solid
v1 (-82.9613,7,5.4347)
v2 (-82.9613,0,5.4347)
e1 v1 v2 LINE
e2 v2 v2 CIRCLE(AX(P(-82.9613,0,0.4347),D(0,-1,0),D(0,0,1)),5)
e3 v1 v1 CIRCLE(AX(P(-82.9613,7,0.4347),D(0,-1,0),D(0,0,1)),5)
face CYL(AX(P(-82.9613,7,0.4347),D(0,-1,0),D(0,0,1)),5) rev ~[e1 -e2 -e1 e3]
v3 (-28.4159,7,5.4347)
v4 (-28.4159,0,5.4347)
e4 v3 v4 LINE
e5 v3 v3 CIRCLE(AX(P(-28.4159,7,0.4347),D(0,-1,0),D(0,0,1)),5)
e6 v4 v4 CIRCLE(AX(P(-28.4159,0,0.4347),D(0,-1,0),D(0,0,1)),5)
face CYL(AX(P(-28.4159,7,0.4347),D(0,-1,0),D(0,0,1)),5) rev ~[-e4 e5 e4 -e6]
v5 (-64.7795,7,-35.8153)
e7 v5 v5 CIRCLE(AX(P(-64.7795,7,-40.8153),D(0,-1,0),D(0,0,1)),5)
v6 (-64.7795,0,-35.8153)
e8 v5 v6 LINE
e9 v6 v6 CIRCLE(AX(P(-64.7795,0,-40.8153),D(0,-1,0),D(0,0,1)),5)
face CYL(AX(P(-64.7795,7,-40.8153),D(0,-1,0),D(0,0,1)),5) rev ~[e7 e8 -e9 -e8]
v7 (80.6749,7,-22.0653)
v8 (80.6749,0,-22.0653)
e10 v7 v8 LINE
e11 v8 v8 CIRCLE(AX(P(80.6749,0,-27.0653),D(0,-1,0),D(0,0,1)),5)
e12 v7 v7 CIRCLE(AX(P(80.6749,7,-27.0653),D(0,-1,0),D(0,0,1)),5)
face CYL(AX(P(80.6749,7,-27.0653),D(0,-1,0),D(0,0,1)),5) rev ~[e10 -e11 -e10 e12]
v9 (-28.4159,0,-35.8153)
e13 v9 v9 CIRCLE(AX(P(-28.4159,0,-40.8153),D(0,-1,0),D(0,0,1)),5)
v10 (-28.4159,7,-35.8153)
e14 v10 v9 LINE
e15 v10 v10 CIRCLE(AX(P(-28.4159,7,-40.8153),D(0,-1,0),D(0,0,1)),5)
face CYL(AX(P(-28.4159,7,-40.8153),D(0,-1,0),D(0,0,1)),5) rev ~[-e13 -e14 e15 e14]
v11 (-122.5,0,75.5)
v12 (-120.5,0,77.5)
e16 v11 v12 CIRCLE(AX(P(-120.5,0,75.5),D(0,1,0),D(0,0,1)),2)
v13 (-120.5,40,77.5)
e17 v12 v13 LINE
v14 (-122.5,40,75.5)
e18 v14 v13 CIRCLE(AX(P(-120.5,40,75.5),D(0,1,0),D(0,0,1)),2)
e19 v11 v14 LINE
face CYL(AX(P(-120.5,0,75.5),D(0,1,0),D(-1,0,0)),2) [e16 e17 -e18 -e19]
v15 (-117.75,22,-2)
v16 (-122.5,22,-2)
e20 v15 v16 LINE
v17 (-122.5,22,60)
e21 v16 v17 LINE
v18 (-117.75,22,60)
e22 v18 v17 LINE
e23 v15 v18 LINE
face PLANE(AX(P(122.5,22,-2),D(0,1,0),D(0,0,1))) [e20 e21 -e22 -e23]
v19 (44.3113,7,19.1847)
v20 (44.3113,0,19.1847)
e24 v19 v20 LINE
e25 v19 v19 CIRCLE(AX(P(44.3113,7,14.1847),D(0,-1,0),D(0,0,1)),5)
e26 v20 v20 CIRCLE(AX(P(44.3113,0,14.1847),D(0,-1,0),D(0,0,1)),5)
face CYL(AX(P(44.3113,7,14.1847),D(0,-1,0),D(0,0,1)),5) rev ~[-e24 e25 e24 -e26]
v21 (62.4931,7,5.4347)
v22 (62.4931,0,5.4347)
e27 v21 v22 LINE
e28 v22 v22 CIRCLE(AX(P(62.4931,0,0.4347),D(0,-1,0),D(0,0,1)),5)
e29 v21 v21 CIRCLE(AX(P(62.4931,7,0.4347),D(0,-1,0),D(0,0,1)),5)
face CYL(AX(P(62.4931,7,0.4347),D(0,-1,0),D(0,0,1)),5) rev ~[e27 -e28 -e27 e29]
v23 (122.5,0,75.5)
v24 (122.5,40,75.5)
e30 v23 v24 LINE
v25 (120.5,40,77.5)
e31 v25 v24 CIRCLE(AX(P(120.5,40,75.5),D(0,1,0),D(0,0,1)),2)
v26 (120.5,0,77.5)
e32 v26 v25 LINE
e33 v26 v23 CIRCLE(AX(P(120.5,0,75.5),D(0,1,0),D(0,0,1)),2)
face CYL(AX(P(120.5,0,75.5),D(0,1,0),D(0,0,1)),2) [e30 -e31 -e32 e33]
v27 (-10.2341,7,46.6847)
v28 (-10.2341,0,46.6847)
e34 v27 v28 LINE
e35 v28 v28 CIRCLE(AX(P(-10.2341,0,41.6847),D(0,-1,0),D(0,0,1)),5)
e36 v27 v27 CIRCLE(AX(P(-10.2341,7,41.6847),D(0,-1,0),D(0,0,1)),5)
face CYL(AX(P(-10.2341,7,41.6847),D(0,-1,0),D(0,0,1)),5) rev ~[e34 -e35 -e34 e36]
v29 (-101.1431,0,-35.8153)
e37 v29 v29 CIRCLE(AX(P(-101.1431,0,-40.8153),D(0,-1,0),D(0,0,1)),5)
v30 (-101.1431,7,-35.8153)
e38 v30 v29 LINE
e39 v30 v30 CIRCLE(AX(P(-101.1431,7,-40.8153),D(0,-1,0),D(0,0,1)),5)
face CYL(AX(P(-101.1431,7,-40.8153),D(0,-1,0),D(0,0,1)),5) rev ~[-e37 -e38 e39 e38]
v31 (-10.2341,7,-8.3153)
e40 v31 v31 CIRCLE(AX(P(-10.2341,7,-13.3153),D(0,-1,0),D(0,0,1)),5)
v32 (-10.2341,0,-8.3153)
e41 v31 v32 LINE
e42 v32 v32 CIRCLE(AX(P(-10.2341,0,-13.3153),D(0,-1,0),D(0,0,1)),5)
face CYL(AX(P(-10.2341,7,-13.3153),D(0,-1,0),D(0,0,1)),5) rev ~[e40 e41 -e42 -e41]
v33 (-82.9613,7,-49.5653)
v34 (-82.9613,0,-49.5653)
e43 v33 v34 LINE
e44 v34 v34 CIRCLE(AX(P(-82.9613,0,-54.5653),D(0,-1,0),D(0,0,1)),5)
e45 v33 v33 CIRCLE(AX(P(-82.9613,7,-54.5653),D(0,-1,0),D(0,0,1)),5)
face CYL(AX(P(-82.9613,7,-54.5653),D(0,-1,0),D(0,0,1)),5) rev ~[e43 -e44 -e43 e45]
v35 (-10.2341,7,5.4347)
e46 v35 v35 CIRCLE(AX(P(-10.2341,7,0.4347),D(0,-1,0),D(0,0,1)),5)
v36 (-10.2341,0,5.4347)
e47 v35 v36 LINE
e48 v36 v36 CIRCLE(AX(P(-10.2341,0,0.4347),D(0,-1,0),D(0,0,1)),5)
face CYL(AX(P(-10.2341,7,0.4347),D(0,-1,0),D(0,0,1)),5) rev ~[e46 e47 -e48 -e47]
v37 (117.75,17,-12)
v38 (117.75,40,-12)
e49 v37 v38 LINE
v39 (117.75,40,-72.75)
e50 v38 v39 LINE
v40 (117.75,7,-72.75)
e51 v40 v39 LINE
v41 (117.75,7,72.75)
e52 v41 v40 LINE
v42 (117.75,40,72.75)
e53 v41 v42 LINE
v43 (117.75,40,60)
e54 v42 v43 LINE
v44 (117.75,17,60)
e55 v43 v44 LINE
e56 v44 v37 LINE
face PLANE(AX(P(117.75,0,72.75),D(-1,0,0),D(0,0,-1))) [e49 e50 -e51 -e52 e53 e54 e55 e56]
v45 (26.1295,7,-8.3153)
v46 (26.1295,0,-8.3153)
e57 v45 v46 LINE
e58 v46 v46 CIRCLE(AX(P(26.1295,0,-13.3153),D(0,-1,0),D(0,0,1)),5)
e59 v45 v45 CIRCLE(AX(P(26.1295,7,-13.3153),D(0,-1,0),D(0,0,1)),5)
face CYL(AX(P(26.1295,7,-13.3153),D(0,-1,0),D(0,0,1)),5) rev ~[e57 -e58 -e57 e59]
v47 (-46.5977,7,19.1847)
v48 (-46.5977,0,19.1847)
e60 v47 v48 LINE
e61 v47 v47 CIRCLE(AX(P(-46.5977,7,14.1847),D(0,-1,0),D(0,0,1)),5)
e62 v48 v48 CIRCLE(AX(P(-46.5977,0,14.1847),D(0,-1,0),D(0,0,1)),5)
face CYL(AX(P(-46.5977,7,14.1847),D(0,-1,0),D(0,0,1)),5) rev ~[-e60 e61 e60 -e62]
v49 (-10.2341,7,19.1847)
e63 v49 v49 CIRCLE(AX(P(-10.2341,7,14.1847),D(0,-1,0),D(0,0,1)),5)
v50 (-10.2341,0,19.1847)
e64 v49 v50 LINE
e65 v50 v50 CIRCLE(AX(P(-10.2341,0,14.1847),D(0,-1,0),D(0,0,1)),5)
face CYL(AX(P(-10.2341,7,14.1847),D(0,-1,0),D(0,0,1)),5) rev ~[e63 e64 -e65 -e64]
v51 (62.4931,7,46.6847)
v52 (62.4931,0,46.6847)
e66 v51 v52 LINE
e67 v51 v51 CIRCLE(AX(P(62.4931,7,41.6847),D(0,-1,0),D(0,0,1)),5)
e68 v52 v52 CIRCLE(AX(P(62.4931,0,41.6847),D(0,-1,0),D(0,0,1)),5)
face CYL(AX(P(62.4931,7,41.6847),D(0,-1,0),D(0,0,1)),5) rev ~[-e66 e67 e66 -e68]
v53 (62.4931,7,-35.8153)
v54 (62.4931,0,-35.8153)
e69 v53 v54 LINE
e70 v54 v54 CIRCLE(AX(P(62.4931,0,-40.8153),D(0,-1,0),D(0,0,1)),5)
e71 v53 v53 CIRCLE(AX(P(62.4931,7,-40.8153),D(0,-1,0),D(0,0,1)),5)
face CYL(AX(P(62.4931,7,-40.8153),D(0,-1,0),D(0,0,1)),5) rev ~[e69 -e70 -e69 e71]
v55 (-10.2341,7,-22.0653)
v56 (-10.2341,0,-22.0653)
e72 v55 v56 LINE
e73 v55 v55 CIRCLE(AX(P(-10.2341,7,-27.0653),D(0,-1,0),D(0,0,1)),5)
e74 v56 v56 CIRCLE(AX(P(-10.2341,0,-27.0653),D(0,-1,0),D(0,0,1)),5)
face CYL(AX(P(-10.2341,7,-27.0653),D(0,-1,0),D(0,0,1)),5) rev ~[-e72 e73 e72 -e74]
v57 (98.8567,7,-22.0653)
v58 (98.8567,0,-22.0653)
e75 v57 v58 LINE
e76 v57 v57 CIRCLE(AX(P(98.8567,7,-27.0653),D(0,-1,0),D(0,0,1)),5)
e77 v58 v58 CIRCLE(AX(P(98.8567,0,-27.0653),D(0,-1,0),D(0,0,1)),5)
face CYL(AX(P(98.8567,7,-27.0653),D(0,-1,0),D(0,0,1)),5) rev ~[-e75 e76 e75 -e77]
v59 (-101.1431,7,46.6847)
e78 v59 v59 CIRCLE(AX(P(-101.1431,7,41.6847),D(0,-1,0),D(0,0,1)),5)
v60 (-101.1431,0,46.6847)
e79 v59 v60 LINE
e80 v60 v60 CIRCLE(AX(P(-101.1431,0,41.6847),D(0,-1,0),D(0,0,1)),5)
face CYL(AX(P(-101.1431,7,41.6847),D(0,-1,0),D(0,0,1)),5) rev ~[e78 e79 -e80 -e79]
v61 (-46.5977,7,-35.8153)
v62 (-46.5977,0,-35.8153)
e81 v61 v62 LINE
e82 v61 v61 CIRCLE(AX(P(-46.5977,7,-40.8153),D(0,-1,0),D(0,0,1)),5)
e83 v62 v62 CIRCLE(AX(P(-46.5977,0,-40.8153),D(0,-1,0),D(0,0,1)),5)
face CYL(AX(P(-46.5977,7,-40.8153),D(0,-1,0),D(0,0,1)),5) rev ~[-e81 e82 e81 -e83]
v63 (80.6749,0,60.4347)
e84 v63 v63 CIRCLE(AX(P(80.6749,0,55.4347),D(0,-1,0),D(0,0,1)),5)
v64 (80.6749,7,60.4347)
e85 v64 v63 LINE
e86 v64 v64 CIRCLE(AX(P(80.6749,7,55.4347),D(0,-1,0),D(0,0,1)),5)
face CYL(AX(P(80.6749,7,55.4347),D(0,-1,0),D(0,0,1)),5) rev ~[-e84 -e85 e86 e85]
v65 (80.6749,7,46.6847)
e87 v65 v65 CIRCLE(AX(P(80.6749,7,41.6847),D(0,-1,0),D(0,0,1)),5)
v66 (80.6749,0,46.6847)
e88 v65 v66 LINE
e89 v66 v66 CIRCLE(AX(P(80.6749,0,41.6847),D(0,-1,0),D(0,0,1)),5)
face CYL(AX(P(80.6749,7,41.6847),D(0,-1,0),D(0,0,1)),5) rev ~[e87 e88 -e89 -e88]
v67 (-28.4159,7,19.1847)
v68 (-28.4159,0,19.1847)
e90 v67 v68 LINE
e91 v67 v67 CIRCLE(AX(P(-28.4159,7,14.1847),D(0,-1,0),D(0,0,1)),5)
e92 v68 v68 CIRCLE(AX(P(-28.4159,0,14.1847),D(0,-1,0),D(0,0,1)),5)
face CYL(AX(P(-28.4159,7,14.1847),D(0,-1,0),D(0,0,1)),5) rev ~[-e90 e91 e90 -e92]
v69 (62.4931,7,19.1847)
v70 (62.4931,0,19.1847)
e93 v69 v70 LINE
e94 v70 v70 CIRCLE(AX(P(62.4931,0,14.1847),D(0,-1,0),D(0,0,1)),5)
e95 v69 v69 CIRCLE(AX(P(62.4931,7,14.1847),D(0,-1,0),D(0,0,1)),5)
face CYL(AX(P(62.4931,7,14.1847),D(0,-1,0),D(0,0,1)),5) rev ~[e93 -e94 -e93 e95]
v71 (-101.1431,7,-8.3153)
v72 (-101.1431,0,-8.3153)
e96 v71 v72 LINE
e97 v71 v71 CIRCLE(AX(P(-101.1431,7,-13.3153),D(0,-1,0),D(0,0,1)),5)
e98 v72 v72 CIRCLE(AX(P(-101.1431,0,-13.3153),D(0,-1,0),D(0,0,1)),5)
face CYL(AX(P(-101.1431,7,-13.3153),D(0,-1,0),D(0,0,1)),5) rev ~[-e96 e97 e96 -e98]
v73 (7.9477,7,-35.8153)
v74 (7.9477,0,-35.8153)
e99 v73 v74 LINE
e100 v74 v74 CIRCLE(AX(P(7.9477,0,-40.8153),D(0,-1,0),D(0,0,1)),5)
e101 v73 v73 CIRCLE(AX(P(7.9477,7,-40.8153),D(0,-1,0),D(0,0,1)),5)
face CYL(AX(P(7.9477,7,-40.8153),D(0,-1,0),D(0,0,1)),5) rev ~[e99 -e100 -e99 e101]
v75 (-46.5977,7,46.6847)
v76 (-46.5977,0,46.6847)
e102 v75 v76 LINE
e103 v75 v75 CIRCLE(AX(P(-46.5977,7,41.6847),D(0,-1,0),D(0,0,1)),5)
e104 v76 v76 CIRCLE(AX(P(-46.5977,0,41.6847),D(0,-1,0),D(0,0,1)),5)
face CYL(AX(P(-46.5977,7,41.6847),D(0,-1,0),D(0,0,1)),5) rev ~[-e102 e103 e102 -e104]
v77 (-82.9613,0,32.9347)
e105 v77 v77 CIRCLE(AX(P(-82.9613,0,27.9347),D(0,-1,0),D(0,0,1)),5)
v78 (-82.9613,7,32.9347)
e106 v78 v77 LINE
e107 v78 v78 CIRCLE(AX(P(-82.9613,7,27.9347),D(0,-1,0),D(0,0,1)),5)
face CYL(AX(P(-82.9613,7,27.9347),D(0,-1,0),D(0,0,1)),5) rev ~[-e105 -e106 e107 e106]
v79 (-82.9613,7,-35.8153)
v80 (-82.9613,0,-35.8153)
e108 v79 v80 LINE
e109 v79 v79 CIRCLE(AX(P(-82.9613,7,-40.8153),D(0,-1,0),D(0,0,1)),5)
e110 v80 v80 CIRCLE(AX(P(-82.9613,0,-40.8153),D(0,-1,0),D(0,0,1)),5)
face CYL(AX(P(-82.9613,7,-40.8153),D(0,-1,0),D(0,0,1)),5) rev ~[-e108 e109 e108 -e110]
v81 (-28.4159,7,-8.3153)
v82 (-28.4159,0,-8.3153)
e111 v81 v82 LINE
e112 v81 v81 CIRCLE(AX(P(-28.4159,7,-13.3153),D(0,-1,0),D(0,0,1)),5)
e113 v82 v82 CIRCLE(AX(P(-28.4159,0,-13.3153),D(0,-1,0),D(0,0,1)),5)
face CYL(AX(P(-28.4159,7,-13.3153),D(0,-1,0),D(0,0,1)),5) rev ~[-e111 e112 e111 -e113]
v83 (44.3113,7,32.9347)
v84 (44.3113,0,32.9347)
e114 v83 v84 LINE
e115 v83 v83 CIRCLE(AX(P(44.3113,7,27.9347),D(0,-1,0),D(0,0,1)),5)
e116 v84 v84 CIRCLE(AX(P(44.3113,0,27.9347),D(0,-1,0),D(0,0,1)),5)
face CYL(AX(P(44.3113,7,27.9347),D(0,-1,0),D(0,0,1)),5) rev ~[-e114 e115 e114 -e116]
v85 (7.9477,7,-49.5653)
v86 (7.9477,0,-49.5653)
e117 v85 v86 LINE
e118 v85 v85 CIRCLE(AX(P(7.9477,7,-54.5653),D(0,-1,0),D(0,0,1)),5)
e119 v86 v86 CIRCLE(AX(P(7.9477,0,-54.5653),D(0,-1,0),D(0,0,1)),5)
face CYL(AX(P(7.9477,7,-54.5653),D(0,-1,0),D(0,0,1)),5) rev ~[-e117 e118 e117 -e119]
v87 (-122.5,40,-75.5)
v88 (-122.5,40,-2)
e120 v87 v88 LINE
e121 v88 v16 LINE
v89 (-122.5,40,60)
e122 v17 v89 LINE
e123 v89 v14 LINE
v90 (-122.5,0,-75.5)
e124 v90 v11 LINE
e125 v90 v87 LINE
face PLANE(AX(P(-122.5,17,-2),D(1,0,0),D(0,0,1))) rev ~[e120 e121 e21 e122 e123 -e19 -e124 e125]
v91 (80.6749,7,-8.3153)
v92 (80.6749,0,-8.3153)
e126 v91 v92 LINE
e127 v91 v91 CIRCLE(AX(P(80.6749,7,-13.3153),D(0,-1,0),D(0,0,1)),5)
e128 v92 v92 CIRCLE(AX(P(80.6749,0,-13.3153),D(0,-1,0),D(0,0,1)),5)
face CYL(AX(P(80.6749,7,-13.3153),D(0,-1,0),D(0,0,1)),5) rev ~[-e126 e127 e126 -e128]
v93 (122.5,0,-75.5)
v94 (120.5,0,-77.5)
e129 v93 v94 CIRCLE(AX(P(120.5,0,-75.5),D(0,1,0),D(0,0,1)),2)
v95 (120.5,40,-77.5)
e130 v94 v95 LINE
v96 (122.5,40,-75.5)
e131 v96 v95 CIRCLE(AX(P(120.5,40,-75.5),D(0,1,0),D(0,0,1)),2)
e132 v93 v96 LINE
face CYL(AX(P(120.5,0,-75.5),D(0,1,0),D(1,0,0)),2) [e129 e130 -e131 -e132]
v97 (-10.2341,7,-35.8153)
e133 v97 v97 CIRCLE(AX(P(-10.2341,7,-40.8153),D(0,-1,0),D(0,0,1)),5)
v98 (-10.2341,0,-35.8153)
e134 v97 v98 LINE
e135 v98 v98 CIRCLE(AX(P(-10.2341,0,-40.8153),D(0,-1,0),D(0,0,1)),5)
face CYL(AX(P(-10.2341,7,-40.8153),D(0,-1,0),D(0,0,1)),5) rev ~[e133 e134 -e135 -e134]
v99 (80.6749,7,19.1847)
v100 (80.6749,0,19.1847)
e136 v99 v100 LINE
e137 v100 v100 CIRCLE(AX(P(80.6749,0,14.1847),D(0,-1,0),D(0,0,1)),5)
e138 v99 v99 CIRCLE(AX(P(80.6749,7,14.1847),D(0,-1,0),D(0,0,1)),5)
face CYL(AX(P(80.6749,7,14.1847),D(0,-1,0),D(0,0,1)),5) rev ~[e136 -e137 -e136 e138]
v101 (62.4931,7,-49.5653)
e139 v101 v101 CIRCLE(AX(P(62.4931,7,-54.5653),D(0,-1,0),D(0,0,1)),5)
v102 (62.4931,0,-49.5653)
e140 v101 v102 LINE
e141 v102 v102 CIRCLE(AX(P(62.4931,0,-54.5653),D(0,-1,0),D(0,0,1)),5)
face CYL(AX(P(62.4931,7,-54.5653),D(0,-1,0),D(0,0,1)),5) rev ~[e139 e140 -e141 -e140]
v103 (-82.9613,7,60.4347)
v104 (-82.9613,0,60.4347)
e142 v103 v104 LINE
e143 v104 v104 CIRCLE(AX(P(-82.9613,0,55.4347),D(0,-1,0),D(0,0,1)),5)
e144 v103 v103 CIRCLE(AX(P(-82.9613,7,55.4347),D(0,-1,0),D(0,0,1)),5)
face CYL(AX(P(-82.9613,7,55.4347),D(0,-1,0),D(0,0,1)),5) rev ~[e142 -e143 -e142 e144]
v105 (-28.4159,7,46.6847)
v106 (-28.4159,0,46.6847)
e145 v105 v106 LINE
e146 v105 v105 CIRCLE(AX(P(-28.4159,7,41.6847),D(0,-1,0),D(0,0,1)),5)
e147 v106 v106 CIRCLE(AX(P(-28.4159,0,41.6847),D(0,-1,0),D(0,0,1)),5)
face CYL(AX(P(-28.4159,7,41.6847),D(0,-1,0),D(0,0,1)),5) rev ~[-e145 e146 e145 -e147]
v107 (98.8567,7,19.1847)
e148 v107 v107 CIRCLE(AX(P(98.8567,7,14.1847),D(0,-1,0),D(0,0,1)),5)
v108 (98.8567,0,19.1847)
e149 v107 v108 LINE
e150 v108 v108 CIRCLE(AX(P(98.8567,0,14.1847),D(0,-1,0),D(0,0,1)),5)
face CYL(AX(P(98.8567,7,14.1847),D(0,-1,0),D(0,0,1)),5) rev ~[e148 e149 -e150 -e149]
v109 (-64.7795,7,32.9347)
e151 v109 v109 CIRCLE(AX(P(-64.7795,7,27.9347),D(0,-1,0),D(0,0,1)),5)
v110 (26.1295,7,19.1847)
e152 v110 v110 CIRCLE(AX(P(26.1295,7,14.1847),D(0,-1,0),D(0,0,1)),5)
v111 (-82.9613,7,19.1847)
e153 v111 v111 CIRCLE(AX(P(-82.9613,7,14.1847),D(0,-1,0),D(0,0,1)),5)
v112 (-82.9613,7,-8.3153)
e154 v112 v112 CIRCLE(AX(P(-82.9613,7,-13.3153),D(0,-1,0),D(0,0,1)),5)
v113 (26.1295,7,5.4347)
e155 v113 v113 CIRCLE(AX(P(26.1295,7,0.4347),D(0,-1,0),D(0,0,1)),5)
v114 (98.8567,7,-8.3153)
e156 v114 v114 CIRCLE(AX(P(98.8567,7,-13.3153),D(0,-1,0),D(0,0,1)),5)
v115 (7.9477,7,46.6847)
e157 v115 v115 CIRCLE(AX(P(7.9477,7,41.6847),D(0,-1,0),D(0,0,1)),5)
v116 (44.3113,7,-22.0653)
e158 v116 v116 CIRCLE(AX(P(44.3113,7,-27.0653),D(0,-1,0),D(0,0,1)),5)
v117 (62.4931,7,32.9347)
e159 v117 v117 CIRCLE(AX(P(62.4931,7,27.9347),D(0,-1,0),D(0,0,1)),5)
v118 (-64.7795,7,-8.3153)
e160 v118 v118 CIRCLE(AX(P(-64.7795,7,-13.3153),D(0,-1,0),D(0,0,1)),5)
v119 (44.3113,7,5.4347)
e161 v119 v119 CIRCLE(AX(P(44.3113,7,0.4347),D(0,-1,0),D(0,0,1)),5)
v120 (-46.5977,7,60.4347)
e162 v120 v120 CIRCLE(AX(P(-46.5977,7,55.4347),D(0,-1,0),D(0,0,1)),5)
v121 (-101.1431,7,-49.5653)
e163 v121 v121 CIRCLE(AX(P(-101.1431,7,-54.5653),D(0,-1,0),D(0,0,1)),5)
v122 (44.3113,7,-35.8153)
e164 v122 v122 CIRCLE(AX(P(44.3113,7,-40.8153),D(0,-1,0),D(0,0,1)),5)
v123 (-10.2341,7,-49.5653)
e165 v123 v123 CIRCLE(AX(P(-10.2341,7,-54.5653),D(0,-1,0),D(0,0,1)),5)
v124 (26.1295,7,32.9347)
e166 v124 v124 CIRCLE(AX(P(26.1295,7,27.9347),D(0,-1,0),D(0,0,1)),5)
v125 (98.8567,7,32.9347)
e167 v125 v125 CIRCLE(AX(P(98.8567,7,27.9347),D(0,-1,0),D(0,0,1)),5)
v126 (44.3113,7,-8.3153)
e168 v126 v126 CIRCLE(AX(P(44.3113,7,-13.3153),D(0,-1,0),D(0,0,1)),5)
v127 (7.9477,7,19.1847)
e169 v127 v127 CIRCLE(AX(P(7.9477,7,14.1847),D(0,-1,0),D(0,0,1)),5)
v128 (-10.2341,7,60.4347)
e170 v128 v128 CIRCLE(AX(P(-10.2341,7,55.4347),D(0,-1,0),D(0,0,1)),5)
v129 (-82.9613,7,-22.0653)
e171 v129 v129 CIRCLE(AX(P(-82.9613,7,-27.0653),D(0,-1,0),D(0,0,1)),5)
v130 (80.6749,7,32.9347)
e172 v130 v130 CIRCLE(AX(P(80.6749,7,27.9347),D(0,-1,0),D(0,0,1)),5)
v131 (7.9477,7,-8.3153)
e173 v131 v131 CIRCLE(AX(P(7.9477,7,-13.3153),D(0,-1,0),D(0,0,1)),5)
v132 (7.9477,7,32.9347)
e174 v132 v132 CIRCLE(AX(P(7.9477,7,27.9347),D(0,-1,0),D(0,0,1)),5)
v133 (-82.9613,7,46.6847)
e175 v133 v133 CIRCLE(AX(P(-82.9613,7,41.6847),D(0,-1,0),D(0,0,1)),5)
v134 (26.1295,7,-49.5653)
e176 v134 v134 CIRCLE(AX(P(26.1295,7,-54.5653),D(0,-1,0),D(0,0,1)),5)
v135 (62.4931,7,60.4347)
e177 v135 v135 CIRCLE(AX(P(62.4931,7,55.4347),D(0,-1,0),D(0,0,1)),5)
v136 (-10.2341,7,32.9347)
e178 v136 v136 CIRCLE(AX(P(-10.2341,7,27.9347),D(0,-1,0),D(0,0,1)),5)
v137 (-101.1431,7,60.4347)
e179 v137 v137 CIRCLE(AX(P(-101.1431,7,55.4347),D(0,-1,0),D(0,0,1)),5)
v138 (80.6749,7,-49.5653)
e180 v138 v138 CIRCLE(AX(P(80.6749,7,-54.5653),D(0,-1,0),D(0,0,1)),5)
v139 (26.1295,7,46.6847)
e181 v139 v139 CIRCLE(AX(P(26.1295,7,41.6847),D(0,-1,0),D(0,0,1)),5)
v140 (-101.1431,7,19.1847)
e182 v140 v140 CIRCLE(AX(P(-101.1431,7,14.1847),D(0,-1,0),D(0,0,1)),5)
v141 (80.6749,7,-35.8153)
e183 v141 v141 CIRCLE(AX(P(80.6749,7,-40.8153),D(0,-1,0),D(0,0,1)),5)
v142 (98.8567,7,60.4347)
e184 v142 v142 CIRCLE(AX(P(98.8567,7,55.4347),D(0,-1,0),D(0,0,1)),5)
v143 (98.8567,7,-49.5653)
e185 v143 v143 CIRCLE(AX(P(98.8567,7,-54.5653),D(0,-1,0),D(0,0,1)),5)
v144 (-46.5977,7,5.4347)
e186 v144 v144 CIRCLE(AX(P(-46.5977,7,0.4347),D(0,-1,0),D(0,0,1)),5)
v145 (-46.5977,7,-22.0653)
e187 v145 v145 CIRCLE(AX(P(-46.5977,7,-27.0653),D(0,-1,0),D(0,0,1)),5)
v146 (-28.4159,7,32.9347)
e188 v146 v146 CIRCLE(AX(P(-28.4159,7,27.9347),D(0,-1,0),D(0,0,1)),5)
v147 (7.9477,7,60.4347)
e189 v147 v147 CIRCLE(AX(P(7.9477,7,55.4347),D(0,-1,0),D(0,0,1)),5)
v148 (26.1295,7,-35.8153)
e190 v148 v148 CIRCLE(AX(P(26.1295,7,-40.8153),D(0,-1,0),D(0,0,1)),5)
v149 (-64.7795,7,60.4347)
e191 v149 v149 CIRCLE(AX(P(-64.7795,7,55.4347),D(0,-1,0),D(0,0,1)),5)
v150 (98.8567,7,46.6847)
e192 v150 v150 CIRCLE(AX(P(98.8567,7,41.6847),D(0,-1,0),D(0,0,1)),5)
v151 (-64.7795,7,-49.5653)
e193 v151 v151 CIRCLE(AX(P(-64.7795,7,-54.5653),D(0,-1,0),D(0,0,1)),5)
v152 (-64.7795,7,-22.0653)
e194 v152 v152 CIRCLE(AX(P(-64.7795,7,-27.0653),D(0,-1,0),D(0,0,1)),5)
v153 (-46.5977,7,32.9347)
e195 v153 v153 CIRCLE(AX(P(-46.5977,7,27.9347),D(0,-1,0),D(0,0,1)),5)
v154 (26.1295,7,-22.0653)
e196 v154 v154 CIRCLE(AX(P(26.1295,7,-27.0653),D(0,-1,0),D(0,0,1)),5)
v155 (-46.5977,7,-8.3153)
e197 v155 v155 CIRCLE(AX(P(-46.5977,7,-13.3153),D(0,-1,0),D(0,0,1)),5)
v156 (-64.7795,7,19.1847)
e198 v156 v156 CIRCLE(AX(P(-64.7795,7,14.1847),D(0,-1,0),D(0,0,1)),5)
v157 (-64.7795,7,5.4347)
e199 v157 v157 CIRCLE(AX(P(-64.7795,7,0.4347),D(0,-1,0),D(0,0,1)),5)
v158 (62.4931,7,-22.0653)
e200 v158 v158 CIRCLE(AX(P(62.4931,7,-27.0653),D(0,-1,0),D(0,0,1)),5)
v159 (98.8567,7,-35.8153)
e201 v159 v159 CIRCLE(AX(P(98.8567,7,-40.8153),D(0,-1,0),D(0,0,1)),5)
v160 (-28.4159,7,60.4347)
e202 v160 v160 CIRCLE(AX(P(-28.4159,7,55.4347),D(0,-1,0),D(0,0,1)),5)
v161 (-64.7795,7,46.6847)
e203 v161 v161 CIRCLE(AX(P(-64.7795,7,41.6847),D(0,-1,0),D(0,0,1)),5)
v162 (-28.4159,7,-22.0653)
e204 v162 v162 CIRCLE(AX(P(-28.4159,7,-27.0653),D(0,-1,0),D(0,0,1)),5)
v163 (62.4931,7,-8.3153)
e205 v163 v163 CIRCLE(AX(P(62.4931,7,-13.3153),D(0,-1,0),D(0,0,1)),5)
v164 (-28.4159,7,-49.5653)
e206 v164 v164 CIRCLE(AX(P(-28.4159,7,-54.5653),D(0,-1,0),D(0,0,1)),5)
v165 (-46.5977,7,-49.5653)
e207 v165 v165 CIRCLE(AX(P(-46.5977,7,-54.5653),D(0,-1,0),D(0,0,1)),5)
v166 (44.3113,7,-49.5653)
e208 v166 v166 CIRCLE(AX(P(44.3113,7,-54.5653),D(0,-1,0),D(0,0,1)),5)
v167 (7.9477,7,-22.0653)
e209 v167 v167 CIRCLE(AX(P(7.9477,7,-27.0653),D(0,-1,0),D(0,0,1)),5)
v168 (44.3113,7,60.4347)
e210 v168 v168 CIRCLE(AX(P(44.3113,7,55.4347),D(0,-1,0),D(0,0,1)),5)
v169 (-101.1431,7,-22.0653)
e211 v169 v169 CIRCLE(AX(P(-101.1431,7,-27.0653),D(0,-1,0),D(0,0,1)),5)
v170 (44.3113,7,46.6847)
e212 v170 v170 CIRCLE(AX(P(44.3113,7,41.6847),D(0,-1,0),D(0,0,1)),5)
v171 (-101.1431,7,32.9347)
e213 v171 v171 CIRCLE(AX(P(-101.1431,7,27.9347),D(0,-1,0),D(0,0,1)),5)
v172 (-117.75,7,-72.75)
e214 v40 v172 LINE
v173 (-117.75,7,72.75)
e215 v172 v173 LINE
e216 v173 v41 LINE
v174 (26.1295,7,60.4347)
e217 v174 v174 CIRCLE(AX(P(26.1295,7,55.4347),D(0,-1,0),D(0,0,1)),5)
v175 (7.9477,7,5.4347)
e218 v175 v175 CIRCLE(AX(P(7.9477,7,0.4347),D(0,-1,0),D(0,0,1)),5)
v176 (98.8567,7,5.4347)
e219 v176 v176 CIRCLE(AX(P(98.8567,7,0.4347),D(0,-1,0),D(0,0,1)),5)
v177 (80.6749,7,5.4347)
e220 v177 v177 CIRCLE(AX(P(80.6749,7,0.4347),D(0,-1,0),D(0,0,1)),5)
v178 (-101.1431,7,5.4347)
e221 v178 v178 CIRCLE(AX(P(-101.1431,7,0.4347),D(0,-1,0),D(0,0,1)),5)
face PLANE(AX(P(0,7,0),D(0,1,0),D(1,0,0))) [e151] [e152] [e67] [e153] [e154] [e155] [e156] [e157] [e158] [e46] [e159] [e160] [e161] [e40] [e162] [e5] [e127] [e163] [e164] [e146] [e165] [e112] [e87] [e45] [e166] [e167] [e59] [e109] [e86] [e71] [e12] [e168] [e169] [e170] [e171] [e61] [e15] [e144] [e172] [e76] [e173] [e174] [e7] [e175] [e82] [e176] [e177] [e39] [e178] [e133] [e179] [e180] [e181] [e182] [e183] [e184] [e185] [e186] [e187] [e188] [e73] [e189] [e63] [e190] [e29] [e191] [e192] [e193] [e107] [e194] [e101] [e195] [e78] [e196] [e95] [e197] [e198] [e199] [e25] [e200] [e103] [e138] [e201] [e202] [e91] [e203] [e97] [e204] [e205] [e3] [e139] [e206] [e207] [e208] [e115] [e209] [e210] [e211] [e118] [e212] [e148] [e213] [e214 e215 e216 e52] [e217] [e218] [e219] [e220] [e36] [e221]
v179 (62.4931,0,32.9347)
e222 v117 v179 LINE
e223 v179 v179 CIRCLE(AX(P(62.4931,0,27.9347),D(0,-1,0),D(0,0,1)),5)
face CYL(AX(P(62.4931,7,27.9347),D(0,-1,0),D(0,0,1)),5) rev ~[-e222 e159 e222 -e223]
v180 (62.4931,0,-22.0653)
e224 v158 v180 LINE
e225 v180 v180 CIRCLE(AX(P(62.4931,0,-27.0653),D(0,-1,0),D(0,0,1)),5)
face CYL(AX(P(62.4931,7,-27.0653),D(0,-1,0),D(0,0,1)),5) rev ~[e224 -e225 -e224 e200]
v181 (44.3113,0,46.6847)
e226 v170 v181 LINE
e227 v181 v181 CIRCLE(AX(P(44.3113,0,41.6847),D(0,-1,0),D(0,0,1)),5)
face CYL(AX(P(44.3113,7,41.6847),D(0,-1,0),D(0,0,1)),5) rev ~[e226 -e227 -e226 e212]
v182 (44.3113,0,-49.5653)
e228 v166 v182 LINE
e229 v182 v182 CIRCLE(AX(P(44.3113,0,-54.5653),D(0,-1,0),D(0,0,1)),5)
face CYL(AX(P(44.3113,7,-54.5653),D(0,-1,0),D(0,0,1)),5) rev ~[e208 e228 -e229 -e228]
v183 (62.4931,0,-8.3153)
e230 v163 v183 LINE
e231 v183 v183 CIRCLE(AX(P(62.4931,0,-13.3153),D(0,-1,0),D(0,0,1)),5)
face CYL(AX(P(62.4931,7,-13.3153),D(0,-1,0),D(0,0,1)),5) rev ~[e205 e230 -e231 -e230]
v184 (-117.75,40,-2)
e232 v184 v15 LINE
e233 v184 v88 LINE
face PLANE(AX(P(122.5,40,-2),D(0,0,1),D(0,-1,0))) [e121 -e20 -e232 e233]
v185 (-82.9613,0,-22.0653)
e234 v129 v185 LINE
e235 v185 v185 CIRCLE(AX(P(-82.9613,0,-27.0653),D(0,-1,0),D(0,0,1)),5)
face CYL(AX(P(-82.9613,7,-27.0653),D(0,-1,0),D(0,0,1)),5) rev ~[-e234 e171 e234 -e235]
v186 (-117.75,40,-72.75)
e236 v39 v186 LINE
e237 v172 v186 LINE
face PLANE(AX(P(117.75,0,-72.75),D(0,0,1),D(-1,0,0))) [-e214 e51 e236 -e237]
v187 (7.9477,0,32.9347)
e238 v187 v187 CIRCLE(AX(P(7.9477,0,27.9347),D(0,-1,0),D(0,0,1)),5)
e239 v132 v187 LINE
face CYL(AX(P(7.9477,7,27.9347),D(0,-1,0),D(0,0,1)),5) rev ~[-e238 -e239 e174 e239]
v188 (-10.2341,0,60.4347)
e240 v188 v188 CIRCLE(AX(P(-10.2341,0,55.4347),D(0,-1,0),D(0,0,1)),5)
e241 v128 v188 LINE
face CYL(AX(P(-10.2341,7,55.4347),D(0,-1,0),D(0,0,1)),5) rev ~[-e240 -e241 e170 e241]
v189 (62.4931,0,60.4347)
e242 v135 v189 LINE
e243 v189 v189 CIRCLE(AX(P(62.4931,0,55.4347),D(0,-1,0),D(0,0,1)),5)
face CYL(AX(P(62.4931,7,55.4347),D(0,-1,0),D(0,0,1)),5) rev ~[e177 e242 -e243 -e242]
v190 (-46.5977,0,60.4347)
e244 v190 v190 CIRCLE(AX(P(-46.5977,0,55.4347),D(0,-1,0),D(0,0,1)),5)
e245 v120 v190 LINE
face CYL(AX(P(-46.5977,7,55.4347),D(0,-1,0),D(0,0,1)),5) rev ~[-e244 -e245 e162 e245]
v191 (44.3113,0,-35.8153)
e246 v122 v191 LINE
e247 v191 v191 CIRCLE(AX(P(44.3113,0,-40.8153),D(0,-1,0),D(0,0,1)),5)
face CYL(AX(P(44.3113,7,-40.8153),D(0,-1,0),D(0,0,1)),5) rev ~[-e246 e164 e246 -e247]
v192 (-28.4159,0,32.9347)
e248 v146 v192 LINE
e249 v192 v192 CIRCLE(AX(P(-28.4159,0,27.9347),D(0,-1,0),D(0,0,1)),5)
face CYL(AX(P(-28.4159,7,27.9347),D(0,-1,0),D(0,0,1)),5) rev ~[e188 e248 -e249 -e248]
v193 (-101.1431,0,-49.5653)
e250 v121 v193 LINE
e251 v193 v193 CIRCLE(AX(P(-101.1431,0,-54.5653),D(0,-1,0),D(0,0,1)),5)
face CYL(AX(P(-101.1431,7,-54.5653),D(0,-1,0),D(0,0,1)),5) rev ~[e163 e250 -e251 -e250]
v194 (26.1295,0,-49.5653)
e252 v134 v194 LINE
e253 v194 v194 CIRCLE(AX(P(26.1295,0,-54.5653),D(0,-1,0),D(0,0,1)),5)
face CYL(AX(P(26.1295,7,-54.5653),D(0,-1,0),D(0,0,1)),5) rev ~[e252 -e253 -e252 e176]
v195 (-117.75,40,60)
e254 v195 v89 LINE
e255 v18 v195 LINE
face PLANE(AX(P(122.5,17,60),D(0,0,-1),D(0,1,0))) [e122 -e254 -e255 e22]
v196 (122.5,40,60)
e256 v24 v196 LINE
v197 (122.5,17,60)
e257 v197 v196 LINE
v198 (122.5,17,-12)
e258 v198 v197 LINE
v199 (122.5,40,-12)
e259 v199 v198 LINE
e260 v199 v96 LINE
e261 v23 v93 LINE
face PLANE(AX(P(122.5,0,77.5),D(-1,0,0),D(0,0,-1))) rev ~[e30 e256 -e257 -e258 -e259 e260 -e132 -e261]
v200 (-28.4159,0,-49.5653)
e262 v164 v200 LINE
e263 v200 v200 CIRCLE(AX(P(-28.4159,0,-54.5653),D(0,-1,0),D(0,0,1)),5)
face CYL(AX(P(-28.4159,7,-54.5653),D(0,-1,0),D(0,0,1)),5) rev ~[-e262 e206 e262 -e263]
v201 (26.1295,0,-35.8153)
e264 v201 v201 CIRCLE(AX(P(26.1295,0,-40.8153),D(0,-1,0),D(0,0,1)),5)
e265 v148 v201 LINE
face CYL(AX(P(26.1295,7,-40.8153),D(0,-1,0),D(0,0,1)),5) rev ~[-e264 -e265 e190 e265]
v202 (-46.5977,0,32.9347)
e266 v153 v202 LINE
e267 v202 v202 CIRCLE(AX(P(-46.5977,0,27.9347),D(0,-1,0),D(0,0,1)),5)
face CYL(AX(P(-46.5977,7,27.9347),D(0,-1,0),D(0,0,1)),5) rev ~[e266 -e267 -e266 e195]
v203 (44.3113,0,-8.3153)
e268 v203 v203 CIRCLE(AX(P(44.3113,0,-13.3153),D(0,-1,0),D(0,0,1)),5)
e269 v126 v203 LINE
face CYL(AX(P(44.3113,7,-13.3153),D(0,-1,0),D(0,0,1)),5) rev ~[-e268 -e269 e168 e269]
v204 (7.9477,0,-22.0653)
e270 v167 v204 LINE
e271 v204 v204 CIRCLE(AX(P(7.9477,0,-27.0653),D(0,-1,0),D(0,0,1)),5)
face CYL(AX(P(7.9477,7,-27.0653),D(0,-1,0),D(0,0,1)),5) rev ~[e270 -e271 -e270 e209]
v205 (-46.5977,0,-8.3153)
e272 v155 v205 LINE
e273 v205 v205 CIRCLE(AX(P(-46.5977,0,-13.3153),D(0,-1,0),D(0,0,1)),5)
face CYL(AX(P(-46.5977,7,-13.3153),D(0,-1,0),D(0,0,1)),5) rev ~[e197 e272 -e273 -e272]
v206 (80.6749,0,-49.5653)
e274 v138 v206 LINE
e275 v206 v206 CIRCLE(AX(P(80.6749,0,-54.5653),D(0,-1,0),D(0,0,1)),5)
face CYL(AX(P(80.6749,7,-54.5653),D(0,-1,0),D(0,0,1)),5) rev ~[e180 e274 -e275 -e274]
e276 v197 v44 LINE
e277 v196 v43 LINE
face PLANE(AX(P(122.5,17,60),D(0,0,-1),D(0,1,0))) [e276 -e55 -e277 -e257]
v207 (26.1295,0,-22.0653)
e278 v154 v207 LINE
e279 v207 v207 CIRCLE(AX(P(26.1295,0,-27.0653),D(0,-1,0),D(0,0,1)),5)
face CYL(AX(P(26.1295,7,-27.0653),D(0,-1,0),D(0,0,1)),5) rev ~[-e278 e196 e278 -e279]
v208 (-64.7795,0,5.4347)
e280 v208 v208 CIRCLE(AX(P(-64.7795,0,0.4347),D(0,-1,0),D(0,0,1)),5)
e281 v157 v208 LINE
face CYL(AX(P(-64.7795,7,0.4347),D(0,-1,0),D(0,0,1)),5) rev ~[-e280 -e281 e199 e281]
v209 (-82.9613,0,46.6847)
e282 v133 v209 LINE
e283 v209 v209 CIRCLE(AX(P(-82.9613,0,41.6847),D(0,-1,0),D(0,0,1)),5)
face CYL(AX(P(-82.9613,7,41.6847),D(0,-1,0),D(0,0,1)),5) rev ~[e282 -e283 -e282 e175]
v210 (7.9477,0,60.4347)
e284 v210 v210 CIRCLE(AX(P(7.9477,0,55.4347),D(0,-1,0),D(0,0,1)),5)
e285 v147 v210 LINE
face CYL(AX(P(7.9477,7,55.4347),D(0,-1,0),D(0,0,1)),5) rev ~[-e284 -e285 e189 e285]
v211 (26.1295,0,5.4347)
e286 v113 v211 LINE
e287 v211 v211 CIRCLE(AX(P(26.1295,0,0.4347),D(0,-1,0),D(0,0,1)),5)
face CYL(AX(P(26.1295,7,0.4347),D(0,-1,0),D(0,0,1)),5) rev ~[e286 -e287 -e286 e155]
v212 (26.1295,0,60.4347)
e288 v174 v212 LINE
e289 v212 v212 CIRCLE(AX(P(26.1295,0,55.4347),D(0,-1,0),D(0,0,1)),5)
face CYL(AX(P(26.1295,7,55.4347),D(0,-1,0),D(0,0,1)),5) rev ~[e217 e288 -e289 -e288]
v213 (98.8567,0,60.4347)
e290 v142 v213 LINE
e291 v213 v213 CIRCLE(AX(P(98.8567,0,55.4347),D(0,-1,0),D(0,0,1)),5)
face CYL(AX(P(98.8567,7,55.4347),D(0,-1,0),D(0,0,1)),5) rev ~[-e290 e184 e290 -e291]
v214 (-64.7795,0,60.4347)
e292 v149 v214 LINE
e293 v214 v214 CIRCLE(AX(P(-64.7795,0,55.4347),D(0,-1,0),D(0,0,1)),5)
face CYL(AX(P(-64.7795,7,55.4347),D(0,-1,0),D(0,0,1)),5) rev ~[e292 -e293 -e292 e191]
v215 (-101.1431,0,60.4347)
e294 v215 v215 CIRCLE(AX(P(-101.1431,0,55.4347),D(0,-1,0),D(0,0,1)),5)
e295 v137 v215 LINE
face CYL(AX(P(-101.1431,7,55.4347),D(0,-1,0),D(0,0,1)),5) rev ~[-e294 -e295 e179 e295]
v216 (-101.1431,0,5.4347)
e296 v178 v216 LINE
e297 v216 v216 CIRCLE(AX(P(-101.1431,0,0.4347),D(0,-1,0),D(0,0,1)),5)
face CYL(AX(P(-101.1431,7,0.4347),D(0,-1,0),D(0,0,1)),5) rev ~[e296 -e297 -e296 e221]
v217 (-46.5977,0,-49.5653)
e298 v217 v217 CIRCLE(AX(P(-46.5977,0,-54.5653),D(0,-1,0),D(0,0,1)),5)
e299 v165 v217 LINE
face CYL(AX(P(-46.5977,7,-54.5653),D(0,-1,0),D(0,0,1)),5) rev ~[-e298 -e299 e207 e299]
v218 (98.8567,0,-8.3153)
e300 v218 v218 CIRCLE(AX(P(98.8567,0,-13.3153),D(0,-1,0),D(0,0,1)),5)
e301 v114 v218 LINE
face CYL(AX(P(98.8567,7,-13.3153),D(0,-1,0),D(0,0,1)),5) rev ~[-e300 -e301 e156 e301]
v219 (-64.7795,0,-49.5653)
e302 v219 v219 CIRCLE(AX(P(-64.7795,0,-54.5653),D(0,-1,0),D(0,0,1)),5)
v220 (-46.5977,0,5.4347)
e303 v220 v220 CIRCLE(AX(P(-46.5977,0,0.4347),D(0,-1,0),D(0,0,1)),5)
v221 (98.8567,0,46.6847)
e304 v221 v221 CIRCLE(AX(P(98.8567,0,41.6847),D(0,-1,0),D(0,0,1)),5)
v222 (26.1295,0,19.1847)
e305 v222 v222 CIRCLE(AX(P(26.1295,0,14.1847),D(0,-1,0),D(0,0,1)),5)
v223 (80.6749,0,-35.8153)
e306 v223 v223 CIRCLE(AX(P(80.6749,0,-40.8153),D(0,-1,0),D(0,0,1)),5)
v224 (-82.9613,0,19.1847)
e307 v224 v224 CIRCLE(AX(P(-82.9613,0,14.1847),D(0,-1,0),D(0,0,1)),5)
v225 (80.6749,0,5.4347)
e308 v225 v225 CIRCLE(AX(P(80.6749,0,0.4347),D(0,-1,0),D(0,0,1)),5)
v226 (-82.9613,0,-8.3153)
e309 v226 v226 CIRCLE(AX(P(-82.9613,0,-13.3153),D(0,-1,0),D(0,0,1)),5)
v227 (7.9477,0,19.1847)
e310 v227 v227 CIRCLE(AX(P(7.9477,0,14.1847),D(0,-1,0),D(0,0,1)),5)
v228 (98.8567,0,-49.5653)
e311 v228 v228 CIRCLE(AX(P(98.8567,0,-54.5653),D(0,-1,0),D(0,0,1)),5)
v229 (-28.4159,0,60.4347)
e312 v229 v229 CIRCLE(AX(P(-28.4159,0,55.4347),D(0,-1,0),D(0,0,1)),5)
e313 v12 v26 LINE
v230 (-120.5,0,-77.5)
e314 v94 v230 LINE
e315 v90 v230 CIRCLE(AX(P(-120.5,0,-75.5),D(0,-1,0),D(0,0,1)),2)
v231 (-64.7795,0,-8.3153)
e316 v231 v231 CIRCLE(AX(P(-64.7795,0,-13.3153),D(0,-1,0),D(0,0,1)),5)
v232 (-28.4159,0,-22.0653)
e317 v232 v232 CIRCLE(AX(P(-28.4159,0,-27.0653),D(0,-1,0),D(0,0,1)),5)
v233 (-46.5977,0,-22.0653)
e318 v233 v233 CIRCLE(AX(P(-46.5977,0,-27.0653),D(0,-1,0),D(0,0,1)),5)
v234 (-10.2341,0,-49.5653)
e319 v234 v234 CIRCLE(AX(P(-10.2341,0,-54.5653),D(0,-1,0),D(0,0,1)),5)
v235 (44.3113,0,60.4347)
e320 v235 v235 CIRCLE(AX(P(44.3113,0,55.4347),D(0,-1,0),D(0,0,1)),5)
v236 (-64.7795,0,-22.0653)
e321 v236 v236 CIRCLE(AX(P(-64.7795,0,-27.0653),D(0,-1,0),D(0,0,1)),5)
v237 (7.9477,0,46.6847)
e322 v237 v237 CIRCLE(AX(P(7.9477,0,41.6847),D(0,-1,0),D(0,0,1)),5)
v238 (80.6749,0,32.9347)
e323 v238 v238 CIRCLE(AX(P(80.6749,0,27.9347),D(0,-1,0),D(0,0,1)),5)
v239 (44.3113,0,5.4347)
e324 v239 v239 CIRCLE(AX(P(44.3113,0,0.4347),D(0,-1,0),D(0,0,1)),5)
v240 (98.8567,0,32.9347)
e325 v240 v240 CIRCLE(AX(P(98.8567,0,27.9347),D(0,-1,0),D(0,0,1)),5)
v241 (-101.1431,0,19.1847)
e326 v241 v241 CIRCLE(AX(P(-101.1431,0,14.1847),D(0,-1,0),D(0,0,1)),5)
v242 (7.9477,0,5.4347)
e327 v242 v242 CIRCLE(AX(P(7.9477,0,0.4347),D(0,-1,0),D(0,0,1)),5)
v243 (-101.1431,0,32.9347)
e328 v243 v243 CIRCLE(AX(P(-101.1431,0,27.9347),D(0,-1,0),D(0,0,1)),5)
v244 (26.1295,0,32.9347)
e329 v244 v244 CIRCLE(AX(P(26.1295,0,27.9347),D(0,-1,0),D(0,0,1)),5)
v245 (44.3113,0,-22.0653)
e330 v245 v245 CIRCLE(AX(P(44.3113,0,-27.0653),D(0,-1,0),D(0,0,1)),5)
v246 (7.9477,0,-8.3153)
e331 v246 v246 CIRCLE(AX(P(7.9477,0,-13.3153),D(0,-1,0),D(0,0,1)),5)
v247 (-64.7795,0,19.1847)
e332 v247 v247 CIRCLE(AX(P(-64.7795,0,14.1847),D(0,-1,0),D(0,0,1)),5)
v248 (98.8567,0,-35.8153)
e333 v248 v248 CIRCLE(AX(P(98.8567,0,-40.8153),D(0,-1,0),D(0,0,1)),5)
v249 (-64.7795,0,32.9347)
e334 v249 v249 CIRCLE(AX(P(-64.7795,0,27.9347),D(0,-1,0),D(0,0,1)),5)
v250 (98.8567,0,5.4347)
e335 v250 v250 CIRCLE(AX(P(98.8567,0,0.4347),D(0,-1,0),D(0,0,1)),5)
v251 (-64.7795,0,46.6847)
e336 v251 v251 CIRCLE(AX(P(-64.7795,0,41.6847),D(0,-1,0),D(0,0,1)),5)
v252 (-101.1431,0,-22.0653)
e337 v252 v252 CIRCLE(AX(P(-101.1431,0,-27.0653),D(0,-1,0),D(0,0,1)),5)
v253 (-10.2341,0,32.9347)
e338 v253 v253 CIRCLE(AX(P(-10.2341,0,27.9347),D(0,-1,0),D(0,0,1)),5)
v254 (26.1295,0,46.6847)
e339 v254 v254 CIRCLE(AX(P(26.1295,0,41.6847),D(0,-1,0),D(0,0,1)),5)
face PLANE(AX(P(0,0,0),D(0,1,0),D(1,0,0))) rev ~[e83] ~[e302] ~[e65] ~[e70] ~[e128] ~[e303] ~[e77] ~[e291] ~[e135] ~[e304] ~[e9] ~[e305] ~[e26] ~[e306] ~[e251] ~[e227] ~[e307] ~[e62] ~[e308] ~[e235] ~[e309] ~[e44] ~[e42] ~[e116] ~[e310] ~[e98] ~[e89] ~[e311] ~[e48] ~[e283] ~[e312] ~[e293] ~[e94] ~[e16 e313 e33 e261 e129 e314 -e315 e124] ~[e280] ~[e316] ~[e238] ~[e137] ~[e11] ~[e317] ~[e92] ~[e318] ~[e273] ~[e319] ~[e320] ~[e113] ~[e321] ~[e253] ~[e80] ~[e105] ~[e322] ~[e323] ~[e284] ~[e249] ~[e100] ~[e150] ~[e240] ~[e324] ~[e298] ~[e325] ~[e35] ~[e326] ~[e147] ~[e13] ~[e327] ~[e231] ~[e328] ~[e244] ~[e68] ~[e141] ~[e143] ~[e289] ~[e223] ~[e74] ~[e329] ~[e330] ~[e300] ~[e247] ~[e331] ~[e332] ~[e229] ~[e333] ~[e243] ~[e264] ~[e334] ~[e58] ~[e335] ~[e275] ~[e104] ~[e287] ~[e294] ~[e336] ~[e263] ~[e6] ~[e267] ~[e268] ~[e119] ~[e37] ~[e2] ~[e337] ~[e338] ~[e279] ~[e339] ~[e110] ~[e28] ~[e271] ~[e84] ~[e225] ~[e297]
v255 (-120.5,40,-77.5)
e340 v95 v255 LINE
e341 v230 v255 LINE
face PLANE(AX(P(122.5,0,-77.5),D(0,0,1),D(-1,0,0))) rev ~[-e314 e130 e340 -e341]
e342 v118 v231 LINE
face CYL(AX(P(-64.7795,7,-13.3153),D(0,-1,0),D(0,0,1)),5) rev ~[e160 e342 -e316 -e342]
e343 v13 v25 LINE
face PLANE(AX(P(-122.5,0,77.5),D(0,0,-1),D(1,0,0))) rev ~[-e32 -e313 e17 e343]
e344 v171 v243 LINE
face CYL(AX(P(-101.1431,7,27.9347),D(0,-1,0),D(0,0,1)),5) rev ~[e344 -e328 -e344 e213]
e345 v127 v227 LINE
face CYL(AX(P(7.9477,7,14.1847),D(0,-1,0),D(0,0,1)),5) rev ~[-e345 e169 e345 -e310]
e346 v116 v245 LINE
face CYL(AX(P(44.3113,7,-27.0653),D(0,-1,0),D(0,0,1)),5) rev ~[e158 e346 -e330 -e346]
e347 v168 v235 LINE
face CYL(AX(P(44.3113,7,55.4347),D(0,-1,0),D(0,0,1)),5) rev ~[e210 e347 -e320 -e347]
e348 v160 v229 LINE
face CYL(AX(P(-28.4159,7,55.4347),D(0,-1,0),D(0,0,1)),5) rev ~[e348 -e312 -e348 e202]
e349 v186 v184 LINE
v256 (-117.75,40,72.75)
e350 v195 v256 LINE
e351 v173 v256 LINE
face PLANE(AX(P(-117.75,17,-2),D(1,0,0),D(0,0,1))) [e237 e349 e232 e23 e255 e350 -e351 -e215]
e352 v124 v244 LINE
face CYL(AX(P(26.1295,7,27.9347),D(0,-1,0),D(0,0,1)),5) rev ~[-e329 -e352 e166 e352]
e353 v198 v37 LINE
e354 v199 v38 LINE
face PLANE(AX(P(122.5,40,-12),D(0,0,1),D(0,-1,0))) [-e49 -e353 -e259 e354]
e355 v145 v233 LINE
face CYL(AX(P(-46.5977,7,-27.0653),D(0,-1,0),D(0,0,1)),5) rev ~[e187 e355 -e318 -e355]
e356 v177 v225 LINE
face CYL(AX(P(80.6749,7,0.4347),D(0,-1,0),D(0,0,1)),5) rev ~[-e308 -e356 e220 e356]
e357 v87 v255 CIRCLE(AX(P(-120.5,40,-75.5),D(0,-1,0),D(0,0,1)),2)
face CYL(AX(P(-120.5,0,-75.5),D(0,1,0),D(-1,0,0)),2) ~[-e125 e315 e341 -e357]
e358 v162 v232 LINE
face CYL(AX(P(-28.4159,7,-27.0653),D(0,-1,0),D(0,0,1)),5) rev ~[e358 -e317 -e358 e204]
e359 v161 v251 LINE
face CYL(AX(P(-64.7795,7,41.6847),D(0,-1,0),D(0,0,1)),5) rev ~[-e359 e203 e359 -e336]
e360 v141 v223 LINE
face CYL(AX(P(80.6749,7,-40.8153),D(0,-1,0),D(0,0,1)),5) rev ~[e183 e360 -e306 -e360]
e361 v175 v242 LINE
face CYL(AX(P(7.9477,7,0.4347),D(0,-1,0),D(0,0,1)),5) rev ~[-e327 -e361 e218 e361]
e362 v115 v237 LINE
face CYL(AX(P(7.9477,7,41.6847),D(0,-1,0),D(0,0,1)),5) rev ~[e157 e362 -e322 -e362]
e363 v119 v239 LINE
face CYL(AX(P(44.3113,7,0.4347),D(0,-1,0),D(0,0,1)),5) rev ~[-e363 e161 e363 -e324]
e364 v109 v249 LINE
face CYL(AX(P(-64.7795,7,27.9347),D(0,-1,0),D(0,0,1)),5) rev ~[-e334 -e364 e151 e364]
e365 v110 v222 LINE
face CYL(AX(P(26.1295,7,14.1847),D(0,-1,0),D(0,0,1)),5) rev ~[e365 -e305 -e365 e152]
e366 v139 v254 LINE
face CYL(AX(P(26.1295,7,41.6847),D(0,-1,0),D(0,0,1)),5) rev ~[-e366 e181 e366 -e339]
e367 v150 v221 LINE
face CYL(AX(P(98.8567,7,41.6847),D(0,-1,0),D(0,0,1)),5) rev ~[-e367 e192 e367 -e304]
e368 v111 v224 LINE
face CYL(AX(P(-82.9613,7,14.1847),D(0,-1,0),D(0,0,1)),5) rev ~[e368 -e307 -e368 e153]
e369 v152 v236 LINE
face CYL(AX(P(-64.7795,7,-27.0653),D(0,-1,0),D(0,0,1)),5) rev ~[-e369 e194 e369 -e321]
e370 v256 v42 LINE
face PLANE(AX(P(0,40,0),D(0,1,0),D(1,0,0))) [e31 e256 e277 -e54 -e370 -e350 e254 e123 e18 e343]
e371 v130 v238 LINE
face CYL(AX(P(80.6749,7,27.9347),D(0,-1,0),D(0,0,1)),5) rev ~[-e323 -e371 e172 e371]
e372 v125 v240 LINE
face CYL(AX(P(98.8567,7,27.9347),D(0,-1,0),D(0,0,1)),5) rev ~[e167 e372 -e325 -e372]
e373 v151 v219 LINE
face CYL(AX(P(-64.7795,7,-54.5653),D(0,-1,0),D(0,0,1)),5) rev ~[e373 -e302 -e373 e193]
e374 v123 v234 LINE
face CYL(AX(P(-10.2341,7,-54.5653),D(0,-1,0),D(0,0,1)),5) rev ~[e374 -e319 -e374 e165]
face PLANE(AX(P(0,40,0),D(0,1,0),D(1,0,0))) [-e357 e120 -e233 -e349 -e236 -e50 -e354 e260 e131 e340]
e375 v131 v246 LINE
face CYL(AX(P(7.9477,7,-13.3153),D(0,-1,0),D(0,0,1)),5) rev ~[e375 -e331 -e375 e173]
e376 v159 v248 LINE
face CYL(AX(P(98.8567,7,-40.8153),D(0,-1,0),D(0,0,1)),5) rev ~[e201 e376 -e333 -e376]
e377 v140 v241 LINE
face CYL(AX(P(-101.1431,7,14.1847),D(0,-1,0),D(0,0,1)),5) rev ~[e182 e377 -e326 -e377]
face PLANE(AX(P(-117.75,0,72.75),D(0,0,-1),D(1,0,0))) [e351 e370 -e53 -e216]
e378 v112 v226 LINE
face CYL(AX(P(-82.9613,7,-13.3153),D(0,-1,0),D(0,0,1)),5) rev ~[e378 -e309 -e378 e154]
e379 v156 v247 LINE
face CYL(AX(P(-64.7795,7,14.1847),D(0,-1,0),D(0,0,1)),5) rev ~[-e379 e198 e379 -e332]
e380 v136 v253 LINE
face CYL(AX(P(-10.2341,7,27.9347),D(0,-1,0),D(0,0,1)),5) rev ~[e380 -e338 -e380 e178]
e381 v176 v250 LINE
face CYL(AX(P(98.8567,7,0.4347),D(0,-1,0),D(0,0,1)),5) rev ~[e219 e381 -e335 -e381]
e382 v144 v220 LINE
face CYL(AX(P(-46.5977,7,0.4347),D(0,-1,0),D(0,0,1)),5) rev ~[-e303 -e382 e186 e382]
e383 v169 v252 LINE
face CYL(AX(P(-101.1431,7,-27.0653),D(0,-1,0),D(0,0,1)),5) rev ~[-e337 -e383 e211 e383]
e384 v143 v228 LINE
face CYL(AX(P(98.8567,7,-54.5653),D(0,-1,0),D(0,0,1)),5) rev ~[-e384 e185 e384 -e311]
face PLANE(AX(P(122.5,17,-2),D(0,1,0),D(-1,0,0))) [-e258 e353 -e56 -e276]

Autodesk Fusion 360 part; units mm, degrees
sketch "Esquisse1" plane through (0, 0, 0) normal (0, 1, 0) x (1, 0, 0)
  line L0 (117.75, 72.75) -> (-117.75, 72.75)
  line L1 (-117.75, 72.75) -> (-117.75, -72.75)
  line L2 (-117.75, -72.75) -> (117.75, -72.75)
  line L3 (117.75, -72.75) -> (117.75, 72.75)
  line L4 (117.75, 72.75) -> (-117.75, -72.75) construction
  line L5 (-117.75, 72.75) -> (117.75, -72.75) construction
  line L6 (122.5, 77.5) -> (-122.5, 77.5)
  line L7 (-122.5, 77.5) -> (-122.5, -77.5)
  line L8 (-122.5, -77.5) -> (122.5, -77.5)
  line L9 (122.5, -77.5) -> (122.5, 77.5)
  line L10 (122.5, 77.5) -> (-122.5, -77.5) construction
  line L11 (-122.5, 77.5) -> (122.5, -77.5) construction
  dimension "d4" = 145.5
  dimension "d5" = 235.5
  dimension "d6" = 155
  dimension "d7" = 245
extrude "Extrusion1" add sketch "Esquisse1" along normal blind 40
extrude "Extrusion2" add sketch "Esquisse1" along normal blind 7 contours L0 L1 L2 L3
sketch "Esquisse3" plane through (122.5, 0, 0) normal (1, 0, 0) x (0, 0, -1)
  line L0 (-77.5, 0) -> (77.5, 0)
  line L1 (77.5, 0) -> (77.5, 40)
  line L2 (77.5, 40) -> (-77.5, 40)
  line L3 (-77.5, 40) -> (-77.5, 0)
  line L4 (-60, 40) -> (2, 40)
  line L5 (2, 40) -> (2, 17)
  line L6 (2, 17) -> (-60, 17)
  line L7 (-60, 17) -> (-60, 40)
  dimension "d24" = 62
  dimension "d25" = 23
  dimension "d26" = 17.5
  dimension "d28" = 23
extrude "Extrusion5" cut sketch "Esquisse3" against normal blind 260 contours L2 L4 L5 L6 L7
extrude "Extrusion6" add 1 faces at (-119.3333, 17, 18.6667) along direction (0, 1, 0) blind 5
fillet "Congé1" radius 2 4 edges at (122.5, 20, -77.5) (122.5, 20, 77.5) (-122.5, 20, 77.5) (-122.5, 20, -77.5)
hole "Perçage1" at (98.8567, 7, -54.5653) direction (0, -1, 0) diameter 10 depth 10 tip angle 118
pattern_linear "Réseau R1" count 12 spacing 18.1818 along (-1, 0, 0) count 9 spacing 13.75 along (0, 0, 1) of "Perçage1"
extrude "Extrusion7" cut 1 faces at (120.9167, 32.3333, -2) along direction (0, 0, -1) blind 10
